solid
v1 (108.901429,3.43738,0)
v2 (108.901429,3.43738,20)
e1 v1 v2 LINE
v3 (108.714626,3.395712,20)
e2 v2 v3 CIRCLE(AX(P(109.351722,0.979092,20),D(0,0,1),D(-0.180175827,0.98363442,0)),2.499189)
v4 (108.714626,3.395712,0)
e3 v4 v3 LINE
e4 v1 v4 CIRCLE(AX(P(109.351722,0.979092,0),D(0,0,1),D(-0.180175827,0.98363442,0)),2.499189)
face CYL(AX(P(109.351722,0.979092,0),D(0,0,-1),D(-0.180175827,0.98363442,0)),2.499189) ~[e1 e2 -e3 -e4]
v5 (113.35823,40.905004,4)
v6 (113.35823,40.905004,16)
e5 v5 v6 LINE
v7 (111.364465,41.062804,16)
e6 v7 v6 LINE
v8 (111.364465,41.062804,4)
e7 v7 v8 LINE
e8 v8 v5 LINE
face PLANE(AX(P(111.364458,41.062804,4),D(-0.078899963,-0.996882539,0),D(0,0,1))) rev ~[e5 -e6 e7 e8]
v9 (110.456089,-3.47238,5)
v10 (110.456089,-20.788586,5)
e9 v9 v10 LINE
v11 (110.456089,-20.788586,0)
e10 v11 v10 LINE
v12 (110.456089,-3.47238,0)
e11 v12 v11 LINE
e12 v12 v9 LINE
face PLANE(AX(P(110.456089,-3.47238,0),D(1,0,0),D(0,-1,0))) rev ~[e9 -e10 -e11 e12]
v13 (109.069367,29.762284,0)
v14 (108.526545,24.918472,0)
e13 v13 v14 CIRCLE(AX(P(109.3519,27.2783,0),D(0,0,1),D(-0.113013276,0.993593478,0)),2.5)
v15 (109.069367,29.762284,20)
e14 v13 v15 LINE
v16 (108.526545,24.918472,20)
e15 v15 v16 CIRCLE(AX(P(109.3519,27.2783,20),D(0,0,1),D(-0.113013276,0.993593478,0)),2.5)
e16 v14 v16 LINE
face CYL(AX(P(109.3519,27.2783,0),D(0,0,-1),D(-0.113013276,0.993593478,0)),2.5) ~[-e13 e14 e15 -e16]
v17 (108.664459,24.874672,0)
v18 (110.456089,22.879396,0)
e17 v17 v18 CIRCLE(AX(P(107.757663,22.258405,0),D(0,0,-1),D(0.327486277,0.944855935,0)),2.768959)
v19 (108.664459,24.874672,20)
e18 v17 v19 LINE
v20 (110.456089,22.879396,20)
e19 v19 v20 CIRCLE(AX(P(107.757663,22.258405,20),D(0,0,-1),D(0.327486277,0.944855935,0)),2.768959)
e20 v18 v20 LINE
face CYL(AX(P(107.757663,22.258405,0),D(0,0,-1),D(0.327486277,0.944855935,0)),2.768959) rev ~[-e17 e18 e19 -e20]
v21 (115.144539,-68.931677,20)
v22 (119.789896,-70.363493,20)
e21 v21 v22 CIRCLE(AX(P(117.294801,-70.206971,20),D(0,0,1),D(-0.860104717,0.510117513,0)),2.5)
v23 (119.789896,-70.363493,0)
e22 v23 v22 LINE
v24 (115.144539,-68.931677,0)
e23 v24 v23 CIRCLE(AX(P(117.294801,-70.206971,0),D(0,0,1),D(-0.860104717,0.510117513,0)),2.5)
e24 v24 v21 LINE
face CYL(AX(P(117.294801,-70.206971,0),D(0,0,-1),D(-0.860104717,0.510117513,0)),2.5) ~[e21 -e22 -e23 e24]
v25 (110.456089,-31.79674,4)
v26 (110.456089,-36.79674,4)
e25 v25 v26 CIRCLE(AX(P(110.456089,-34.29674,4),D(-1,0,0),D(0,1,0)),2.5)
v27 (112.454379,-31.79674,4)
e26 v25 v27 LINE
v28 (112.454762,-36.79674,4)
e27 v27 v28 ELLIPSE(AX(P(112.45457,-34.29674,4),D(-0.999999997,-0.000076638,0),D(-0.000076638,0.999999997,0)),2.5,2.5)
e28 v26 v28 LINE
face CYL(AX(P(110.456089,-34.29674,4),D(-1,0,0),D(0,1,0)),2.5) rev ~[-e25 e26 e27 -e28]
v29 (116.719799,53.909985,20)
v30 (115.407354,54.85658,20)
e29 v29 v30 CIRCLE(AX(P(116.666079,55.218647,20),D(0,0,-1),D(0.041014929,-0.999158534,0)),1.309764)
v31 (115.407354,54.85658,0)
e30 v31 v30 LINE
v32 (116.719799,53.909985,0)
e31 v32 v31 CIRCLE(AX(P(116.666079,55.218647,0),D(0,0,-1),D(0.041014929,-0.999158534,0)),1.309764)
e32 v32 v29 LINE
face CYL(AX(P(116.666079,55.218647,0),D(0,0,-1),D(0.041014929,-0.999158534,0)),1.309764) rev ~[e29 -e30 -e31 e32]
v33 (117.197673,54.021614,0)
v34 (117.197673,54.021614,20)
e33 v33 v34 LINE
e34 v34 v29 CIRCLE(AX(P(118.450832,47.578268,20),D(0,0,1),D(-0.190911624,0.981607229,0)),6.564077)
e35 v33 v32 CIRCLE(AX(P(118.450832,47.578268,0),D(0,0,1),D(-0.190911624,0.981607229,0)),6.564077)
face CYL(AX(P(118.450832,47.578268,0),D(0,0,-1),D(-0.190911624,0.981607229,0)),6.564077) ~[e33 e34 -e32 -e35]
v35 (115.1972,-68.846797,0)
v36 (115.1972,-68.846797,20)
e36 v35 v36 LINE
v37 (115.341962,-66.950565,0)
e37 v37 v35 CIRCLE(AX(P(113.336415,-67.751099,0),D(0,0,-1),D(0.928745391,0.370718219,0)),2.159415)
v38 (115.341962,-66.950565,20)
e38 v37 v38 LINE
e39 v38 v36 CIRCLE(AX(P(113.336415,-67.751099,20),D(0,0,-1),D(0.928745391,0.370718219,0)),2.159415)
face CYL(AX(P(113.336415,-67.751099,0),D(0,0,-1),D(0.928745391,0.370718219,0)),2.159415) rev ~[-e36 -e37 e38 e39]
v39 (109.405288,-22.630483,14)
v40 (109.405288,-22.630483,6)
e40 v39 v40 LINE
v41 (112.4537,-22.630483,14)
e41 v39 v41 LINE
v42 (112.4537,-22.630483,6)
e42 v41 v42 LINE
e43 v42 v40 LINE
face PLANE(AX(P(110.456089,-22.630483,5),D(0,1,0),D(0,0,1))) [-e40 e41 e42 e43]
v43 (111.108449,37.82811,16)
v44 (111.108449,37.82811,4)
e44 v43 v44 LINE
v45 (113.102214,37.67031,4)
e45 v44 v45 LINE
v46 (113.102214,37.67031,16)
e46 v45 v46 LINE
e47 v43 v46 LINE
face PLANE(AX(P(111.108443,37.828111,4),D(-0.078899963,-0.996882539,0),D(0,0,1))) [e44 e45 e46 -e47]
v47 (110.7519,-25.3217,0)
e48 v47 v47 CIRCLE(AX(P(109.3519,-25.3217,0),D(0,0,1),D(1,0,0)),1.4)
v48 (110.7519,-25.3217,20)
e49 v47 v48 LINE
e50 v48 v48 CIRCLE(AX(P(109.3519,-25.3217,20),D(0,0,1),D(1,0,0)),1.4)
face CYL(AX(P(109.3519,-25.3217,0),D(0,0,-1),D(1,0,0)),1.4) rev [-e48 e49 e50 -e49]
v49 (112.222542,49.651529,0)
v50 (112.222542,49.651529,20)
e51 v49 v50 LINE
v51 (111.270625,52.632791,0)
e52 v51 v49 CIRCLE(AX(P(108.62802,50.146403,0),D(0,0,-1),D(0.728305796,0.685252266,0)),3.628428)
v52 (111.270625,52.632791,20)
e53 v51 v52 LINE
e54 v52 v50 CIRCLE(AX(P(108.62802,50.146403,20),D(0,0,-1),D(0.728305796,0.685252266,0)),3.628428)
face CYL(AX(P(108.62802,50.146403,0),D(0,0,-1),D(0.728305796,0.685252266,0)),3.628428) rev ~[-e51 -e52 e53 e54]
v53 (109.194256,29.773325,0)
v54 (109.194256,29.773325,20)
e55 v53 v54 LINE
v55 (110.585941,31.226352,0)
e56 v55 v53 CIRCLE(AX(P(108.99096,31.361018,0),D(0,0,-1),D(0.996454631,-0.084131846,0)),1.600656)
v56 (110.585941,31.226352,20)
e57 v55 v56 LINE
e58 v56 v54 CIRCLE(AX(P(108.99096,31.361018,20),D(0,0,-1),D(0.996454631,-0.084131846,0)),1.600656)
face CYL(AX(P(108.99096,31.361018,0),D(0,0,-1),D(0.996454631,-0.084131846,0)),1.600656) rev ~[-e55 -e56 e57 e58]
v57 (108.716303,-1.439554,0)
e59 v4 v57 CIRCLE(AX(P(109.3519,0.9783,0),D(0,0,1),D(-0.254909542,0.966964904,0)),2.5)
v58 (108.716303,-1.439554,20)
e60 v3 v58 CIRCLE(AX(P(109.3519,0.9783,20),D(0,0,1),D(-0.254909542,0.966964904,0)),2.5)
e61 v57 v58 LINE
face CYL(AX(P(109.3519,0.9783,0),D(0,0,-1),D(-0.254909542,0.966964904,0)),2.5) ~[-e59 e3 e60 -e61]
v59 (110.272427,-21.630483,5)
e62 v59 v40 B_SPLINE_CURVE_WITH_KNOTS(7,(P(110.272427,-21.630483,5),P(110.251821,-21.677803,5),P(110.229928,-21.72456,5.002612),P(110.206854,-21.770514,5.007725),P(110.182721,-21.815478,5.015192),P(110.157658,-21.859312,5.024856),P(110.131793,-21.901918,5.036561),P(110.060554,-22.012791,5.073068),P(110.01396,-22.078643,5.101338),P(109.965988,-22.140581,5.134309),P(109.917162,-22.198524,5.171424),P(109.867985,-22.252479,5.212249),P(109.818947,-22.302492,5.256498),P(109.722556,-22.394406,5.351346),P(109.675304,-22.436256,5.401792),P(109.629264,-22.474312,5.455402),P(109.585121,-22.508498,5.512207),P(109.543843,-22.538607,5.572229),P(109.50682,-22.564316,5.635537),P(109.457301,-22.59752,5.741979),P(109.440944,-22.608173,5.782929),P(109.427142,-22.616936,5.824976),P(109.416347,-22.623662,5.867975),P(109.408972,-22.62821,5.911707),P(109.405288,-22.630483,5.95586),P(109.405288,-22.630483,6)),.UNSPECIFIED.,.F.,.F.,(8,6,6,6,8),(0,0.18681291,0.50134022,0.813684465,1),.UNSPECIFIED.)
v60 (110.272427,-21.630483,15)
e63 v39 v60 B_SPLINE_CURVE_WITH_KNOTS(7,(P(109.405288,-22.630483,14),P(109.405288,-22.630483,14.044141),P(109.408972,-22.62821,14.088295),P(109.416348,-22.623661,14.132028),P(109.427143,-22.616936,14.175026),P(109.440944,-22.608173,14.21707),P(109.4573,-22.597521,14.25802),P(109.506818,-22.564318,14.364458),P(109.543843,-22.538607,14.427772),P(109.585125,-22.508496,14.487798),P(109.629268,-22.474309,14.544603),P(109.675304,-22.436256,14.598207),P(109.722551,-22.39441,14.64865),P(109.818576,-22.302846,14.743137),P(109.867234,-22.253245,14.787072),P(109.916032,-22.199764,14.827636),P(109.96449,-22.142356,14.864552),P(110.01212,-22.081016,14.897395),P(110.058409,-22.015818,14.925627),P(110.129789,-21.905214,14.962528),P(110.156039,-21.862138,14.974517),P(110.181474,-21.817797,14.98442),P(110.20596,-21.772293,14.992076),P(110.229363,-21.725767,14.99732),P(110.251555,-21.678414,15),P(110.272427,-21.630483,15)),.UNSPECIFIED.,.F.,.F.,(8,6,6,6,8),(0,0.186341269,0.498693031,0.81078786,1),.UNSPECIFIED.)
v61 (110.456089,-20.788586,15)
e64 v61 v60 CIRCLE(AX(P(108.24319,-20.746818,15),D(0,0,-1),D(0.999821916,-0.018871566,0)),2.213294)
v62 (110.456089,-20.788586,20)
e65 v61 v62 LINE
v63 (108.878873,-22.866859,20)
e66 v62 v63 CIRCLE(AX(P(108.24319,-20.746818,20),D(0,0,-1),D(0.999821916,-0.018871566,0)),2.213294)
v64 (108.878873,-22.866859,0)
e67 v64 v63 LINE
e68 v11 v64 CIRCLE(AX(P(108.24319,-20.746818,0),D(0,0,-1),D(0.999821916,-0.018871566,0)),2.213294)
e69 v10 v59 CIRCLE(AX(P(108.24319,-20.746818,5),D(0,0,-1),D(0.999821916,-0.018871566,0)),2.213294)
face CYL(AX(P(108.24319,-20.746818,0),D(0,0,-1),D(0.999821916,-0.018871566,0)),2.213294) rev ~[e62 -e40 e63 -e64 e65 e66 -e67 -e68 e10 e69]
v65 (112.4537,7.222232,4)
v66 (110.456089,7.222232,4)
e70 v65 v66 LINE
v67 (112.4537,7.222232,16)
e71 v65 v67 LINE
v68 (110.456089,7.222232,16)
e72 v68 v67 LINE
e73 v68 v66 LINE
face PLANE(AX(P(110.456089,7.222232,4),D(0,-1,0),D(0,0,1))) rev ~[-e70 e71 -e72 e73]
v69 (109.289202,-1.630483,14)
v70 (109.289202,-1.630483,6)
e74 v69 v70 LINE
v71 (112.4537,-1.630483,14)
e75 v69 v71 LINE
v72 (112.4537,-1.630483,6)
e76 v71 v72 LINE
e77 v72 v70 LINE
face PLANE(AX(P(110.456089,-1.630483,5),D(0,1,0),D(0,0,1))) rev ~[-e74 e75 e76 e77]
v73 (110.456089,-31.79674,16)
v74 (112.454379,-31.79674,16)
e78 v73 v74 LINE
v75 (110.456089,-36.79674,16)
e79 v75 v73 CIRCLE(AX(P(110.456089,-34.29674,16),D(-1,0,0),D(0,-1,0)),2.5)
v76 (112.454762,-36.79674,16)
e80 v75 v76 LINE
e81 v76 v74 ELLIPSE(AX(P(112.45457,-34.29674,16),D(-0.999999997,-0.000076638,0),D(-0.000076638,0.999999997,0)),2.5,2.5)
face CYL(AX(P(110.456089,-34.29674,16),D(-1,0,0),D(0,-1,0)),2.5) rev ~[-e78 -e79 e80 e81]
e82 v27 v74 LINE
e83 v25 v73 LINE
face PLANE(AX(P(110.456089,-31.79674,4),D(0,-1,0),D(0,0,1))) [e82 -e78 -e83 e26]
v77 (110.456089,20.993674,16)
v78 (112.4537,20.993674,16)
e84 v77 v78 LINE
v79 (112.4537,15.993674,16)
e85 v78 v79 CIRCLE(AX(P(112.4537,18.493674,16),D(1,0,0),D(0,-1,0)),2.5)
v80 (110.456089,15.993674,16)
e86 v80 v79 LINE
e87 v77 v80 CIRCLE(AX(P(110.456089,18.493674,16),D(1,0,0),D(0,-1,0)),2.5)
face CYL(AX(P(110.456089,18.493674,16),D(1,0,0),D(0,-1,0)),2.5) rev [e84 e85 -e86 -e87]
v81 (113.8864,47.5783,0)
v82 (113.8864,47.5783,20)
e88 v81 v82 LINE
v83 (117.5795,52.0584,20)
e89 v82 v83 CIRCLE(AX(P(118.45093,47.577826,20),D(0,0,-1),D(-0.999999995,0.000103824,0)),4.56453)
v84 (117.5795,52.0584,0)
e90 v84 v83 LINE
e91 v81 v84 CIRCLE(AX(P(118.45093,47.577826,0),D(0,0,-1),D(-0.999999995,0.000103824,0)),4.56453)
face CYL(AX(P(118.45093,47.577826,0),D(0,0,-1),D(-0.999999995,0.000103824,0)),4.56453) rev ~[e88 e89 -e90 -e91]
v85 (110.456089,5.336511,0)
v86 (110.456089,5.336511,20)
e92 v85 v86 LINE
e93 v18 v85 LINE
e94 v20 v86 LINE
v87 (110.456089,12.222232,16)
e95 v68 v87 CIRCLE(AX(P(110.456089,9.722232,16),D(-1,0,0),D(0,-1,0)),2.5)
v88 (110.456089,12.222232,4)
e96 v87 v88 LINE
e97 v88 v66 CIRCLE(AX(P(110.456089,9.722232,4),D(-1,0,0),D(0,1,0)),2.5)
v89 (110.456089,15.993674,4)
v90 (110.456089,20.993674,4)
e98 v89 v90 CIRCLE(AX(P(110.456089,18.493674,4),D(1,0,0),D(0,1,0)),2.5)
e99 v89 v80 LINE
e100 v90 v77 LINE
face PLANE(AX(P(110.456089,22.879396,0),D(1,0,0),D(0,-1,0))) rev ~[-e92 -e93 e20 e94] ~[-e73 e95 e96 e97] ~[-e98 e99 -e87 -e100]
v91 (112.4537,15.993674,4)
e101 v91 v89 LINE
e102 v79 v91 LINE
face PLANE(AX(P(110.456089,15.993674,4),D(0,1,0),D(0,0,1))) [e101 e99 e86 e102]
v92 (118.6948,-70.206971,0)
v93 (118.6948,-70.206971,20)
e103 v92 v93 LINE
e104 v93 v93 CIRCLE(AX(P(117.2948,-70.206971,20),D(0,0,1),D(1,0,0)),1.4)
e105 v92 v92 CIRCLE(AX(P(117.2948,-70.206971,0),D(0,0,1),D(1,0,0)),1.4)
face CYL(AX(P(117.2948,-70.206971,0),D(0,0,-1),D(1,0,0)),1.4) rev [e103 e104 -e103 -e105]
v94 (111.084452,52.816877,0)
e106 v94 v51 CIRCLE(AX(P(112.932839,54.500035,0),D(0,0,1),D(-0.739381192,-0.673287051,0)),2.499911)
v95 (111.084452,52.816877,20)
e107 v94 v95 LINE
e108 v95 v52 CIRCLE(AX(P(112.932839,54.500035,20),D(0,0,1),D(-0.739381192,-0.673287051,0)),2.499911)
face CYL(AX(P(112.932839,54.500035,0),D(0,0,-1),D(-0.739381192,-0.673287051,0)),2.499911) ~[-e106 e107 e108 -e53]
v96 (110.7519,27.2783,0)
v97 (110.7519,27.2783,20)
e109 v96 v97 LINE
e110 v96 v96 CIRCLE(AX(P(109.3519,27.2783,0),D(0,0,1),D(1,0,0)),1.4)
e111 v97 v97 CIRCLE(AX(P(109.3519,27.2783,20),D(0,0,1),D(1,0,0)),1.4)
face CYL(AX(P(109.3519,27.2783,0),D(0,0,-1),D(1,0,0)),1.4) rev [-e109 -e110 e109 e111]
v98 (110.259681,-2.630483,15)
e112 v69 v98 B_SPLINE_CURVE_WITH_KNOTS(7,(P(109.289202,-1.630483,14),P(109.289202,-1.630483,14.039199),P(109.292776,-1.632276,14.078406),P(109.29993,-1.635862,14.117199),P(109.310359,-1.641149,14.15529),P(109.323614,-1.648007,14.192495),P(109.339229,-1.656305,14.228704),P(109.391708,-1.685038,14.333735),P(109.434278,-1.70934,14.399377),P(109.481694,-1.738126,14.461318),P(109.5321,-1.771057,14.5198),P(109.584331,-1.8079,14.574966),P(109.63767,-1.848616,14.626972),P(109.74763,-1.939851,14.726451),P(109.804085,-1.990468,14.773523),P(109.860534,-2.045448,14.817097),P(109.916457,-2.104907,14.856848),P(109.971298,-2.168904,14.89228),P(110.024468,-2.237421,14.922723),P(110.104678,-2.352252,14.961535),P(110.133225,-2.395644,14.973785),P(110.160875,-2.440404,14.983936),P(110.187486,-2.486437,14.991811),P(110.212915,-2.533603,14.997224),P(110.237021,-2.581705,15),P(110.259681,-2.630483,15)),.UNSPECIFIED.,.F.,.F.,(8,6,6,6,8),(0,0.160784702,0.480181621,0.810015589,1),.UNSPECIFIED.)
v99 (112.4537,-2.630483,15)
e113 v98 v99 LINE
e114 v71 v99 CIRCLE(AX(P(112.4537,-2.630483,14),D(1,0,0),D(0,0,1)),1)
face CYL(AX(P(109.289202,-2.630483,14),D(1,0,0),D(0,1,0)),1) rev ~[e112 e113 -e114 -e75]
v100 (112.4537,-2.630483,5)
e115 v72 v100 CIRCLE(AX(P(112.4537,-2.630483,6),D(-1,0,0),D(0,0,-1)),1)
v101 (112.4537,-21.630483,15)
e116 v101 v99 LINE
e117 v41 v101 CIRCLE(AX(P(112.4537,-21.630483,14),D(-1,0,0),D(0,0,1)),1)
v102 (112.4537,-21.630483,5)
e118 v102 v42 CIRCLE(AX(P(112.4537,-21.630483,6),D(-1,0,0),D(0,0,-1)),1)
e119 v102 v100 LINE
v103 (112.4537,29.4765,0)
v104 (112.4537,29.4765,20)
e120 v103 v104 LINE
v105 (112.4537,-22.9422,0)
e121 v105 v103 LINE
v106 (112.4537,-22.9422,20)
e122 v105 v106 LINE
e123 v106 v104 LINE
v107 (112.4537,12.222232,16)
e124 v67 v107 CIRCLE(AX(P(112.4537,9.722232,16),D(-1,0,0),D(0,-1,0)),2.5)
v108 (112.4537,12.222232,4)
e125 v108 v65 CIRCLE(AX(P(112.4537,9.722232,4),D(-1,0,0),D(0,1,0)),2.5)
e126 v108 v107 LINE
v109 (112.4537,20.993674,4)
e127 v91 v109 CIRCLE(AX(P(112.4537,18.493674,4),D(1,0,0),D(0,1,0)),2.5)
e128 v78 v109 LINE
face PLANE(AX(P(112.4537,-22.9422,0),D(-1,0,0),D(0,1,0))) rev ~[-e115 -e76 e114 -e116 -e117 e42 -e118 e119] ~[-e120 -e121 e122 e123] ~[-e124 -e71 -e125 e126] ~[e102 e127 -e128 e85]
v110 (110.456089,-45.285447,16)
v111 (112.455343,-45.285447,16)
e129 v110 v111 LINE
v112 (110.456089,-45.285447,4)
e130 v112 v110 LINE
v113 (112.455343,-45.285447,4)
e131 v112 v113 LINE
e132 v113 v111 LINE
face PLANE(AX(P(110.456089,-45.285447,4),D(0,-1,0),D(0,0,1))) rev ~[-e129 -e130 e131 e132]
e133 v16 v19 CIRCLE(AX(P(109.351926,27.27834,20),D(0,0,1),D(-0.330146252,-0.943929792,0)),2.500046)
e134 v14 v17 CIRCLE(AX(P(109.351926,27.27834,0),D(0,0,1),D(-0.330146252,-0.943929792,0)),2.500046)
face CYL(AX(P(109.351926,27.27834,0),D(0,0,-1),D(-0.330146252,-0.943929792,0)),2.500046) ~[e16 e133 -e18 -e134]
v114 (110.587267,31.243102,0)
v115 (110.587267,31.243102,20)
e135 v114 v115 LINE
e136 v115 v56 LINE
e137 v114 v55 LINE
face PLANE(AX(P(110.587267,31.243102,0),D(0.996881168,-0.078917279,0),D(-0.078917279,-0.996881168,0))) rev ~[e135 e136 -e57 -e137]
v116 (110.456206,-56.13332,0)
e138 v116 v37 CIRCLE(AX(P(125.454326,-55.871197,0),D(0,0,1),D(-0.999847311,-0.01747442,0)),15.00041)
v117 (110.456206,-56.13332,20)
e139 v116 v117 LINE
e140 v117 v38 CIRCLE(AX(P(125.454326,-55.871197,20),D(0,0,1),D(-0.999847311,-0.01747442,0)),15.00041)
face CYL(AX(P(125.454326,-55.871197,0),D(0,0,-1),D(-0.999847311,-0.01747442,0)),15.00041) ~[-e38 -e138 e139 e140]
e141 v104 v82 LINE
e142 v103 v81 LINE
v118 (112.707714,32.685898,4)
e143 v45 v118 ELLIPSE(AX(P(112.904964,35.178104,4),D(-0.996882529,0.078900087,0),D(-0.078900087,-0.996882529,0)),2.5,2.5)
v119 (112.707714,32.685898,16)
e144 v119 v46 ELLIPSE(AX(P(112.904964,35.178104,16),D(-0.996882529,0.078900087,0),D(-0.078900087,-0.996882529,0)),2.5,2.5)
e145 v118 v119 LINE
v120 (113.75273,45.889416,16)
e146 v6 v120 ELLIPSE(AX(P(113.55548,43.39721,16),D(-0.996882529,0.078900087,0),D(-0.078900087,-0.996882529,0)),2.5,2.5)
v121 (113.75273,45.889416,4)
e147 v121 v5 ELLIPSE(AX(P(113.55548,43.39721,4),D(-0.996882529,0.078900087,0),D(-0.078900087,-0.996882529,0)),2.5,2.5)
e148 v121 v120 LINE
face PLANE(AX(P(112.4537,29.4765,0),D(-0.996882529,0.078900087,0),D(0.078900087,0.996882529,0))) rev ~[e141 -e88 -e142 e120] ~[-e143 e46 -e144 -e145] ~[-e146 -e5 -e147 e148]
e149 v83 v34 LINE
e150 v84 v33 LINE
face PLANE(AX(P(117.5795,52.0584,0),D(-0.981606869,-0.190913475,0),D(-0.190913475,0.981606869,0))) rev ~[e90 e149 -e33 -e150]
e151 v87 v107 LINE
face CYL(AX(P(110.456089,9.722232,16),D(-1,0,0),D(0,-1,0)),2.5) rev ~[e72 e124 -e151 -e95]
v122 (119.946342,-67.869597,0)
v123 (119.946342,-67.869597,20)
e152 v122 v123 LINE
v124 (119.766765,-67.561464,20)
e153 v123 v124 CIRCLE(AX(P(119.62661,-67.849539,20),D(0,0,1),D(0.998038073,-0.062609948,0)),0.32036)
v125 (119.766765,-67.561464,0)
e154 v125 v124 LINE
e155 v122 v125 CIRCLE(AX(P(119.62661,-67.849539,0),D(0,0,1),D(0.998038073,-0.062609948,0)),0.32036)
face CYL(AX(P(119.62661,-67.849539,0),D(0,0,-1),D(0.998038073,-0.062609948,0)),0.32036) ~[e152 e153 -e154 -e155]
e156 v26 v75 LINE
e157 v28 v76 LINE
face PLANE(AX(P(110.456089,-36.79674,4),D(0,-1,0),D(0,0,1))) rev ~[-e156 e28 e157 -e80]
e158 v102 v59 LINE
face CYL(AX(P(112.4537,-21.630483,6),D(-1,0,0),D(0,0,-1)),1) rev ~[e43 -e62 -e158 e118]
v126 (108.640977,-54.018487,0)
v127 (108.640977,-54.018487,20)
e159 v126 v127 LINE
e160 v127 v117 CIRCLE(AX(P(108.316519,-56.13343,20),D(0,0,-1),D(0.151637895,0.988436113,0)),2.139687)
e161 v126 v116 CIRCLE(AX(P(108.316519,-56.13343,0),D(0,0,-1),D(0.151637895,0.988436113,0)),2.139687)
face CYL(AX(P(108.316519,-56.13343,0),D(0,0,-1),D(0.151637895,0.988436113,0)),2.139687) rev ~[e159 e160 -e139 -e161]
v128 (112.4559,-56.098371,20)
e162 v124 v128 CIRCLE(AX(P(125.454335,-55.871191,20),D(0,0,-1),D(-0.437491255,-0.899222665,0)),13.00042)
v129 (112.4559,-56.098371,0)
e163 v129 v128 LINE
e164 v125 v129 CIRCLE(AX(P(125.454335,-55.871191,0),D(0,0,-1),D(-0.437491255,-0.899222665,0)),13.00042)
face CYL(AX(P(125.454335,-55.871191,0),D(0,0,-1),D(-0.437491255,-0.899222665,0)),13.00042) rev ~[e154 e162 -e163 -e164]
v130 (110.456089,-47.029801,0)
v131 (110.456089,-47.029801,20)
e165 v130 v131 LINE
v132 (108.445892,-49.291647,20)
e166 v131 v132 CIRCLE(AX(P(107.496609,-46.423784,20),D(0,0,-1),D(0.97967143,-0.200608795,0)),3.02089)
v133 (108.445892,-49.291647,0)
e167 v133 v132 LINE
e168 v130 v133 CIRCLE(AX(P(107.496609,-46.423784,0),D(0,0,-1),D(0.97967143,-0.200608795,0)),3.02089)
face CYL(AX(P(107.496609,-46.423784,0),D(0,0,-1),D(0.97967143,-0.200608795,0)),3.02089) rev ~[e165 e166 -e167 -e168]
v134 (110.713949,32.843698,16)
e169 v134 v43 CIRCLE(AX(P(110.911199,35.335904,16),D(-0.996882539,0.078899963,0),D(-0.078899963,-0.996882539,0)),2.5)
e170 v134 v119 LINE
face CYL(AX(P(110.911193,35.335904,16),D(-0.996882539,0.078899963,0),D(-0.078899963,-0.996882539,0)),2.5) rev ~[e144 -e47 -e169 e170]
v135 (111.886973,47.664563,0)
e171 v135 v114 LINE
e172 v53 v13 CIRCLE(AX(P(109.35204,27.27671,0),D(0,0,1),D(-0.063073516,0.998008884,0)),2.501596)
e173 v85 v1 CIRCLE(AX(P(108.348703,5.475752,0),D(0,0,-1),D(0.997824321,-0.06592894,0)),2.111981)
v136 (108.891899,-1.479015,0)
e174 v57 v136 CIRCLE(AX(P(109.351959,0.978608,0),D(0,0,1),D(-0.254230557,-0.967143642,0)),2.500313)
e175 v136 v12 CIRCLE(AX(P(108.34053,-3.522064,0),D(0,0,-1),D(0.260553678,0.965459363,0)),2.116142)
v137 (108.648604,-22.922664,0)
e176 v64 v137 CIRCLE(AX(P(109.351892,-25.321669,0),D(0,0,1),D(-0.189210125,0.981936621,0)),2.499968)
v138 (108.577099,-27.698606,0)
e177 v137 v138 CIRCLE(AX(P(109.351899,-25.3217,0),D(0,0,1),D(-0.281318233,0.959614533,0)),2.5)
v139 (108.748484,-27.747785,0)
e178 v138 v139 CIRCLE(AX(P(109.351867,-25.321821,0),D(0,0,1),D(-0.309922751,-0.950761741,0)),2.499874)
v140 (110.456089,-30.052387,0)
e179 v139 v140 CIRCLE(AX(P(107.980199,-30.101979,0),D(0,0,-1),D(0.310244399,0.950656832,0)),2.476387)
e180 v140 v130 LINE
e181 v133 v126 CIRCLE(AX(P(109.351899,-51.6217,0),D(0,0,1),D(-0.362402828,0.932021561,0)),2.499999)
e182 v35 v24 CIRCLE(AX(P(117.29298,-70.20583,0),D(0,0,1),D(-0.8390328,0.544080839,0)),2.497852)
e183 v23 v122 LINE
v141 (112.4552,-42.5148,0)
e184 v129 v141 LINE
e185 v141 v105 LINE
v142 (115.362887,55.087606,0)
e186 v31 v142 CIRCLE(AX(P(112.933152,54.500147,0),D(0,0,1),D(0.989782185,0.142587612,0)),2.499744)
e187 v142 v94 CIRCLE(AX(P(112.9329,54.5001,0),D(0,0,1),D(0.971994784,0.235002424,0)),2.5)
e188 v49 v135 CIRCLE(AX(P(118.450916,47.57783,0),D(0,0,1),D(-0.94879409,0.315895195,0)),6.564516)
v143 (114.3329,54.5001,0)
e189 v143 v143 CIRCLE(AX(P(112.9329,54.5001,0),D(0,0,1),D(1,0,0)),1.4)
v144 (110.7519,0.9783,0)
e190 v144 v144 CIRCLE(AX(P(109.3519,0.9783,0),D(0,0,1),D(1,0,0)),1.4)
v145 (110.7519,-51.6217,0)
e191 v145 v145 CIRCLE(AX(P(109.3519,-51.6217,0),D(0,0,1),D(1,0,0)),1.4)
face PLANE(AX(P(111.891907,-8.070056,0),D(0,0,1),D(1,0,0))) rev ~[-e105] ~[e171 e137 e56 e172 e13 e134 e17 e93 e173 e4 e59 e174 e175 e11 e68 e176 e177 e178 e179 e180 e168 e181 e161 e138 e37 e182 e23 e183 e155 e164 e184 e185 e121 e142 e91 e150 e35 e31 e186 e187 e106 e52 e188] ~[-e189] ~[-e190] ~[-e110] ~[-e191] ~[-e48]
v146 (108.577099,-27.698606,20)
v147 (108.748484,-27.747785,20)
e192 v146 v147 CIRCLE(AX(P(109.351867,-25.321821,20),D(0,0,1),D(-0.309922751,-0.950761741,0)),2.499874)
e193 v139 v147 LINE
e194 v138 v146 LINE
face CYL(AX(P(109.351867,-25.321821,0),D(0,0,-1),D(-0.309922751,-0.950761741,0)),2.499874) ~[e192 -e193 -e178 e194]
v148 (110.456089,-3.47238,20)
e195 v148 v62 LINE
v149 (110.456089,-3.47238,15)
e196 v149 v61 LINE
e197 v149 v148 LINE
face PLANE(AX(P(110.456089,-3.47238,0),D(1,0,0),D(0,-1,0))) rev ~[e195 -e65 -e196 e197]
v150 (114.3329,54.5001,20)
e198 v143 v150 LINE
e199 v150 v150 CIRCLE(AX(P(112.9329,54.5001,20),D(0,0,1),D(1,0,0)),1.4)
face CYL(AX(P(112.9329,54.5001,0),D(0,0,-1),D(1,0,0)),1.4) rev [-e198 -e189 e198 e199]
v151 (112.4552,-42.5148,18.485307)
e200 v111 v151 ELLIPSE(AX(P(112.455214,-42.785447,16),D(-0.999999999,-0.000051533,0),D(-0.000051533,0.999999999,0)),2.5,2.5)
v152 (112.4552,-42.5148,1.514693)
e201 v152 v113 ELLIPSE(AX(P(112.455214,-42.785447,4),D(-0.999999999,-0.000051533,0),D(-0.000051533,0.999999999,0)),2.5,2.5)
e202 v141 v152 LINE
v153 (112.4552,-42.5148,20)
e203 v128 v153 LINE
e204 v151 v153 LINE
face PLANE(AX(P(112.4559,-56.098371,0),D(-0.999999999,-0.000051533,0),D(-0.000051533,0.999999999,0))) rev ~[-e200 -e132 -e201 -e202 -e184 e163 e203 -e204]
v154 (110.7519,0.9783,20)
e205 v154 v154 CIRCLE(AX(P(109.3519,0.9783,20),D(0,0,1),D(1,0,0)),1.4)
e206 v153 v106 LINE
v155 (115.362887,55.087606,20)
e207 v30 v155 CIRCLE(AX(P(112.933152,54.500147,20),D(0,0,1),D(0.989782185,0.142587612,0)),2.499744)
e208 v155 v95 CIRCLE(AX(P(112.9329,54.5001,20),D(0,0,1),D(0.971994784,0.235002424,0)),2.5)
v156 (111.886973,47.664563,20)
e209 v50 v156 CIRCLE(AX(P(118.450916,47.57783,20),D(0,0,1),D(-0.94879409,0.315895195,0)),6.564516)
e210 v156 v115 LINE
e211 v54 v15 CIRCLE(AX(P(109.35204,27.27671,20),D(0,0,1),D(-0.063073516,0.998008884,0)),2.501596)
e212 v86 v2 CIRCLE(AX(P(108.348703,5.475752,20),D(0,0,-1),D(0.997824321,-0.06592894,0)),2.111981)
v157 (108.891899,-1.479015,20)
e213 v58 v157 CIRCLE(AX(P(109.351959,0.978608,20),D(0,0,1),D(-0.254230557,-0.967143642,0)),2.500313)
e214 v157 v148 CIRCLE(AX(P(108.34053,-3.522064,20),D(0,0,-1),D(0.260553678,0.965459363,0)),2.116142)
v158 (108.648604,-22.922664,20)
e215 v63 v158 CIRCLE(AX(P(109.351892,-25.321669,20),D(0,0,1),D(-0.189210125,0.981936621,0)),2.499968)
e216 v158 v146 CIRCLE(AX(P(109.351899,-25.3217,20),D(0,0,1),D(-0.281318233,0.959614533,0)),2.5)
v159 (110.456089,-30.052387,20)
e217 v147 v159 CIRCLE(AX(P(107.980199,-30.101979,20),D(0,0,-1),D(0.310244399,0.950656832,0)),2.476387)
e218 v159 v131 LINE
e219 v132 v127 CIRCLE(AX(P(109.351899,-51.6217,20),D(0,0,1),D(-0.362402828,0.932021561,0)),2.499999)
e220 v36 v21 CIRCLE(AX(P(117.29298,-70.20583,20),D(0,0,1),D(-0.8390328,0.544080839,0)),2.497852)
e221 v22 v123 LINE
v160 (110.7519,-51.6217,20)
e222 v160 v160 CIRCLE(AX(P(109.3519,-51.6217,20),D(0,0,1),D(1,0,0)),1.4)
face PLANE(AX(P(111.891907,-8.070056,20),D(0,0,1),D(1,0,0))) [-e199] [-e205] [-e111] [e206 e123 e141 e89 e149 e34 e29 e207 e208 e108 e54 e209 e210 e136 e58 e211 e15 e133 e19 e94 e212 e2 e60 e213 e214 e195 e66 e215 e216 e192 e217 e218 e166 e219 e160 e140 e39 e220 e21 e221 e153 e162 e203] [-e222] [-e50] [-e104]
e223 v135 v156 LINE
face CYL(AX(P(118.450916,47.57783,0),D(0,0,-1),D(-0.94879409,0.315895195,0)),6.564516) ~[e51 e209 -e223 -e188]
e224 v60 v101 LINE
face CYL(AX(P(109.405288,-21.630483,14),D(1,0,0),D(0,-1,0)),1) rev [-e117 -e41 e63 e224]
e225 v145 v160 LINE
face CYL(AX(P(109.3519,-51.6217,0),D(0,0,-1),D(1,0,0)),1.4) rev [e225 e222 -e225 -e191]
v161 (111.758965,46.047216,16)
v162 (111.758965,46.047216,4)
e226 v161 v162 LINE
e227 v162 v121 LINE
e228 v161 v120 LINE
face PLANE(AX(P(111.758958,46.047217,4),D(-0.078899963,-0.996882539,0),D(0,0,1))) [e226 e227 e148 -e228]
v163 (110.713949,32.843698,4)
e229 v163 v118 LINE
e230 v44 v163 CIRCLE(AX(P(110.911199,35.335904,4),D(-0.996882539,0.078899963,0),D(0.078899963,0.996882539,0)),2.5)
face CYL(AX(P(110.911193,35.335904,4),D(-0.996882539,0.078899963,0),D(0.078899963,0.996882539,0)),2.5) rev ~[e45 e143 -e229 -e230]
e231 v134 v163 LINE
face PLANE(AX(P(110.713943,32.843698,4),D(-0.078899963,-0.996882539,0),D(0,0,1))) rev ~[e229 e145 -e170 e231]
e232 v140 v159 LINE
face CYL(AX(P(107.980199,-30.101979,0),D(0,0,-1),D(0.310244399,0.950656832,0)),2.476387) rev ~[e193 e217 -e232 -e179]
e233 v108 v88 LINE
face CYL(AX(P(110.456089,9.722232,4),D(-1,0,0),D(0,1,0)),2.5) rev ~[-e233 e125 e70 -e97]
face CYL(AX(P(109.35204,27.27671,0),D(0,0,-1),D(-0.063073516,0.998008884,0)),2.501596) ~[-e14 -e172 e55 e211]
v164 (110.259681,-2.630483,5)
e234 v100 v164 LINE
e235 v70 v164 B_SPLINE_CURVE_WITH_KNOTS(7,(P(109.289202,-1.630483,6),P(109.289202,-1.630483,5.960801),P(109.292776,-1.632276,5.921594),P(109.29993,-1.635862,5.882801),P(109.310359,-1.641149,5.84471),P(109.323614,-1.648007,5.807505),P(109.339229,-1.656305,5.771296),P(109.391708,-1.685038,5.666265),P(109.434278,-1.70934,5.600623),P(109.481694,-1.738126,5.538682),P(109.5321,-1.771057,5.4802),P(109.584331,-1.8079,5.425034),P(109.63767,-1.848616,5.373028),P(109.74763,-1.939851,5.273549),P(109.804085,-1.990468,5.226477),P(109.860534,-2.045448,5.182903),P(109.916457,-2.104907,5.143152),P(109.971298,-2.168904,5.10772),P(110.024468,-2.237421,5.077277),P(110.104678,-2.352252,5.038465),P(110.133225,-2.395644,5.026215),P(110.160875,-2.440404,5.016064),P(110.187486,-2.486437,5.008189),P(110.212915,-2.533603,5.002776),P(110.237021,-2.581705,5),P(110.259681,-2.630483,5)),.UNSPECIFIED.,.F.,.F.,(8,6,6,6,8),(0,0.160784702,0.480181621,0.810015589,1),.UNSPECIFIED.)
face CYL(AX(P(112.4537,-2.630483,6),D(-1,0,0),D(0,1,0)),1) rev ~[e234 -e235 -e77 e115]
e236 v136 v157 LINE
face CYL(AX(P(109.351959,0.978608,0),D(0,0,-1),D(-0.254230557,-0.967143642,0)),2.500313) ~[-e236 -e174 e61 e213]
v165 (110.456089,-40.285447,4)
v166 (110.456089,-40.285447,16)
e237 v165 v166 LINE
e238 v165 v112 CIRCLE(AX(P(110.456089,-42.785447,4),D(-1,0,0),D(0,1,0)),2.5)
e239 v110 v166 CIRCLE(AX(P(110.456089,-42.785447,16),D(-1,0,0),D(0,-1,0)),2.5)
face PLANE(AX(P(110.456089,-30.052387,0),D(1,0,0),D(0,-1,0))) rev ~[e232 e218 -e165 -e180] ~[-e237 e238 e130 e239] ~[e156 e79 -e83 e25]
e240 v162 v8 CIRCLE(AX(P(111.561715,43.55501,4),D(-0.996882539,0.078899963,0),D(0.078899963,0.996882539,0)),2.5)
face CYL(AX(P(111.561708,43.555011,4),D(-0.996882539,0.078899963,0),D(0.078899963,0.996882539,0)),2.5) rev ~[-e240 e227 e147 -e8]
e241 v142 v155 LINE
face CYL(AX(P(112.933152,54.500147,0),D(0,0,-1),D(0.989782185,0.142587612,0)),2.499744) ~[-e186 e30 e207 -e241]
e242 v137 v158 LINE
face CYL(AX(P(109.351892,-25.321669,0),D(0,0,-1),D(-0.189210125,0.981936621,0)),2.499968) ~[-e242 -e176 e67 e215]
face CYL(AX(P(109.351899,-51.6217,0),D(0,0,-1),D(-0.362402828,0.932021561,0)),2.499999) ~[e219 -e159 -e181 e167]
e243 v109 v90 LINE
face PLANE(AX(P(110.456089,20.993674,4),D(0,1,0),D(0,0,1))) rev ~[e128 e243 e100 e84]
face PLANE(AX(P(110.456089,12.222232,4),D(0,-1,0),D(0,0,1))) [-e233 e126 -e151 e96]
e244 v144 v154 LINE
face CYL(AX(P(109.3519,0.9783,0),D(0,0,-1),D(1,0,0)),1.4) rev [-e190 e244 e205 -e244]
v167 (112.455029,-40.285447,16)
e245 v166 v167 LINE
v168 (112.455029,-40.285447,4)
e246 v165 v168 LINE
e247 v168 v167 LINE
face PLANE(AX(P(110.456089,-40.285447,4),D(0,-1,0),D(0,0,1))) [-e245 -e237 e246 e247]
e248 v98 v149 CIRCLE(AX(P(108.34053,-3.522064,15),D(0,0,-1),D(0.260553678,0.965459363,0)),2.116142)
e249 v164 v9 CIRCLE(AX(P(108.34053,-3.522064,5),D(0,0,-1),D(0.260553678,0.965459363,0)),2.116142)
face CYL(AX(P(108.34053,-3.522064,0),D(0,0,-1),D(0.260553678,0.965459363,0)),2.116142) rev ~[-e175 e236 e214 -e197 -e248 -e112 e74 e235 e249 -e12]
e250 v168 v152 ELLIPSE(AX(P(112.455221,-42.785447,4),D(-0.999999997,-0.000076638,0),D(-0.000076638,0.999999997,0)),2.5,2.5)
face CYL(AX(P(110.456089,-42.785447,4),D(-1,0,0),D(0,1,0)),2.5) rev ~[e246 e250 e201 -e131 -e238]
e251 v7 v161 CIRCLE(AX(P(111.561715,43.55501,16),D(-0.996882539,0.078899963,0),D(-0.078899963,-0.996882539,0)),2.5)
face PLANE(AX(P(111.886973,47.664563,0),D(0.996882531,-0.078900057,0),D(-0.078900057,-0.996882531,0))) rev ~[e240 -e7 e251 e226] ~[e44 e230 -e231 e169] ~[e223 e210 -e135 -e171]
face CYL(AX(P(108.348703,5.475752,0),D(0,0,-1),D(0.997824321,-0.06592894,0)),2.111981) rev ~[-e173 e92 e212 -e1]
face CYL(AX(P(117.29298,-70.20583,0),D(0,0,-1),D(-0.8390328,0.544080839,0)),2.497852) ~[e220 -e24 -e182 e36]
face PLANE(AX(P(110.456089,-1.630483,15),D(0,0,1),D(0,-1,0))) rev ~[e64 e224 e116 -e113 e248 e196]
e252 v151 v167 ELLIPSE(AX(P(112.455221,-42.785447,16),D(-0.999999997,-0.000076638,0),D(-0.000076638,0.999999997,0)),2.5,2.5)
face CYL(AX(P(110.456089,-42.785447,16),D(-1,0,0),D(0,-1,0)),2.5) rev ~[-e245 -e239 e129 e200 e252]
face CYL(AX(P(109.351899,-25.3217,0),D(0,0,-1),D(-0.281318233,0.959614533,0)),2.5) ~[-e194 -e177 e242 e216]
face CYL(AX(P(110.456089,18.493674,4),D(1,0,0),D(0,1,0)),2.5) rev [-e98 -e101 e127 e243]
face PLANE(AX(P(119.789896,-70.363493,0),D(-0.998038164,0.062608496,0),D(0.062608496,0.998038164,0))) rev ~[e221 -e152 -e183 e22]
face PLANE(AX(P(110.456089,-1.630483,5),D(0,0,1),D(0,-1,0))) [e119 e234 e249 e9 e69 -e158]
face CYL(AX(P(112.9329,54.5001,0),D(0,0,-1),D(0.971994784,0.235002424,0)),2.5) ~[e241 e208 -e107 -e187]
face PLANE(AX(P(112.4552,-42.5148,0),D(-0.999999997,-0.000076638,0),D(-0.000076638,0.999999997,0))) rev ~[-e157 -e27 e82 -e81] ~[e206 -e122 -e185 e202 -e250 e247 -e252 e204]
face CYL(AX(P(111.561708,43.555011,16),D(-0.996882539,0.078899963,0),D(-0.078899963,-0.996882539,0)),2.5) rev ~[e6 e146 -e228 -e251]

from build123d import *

# Parameters (mm, degrees)
F0_R     = 1.4
F1_DEPTH = 20
F2_W     = 21
F2_H     = 10
F2_W_2   = 5
F2_H_2   = 12
F3_DEPTH = 12.5
F4_R     = 1
F5_W     = 5
F5_H     = 12
F6_DEPTH = 25
F7_W     = 5
F7_H     = 12
F8_DEPTH = 25


with BuildPart() as f1:
    # F0 (on Top) → F1 (new body)
    with BuildSketch(Plane.XY):
        with BuildLine():
            ThreePointArc((119.766765, -67.561464), (114.49339, -62.8618), (112.4559, -56.098371))
            Line((112.4559, -56.098371), (112.4552, -42.5148))
            Line((112.4552, -42.5148), (112.4537, -22.9422))
            Line((112.4537, -22.9422), (112.4537, 29.4765))
            Line((112.4537, 29.4765), (113.8864, 47.5783))
            ThreePointArc((113.8864, 47.5783), (114.928823, 50.48122), (117.5795, 52.0584))
            Line((117.5795, 52.0584), (117.197673, 54.021614))
            ThreePointArc((117.197673, 54.021614), (116.964011, 53.943219), (116.719799, 53.909985))
            ThreePointArc((116.719799, 53.909985), (115.899907, 54.156356), (115.407354, 54.85658))
            ThreePointArc((115.407354, 54.85658), (115.379923, 54.971093), (115.362887, 55.087606))
            ThreePointArc((115.362887, 55.087606), (111.760893, 56.708357), (111.084452, 52.816877))
            ThreePointArc((111.084452, 52.816877), (111.1792, 52.726514), (111.270625, 52.632791))
            ThreePointArc((111.270625, 52.632791), (112.084524, 51.250064), (112.222542, 49.651529))
            ThreePointArc((112.222542, 49.651529), (111.978061, 48.670999), (111.886973, 47.664563))
            Line((111.886973, 47.664563), (110.587267, 31.243102))
            Line((110.587267, 31.243102), (110.585941, 31.226352))
            ThreePointArc((110.585941, 31.226352), (110.146932, 30.253847), (109.194256, 29.773325))
            ThreePointArc((109.194256, 29.773325), (109.13192, 29.766581), (109.069367, 29.762284))
            ThreePointArc((109.069367, 29.762284), (106.867452, 27.55672), (108.526545, 24.918472))
            ThreePointArc((108.526545, 24.918472), (108.595788, 24.897473), (108.664459, 24.874672))
            ThreePointArc((108.664459, 24.874672), (109.817927, 24.10839), (110.456089, 22.879396))
            Line((110.456089, 22.879396), (110.456089, 5.614989))
            ThreePointArc((110.456089, 5.614989), (110.460684, 5.47575), (110.456089, 5.336511))
            ThreePointArc((110.456089, 5.336511), (109.982938, 4.13794), (108.901429, 3.43738))
            ThreePointArc((108.901429, 3.43738), (108.8085, 3.414429), (108.714626, 3.395712))
            ThreePointArc((108.714626, 3.395712), (106.8519, 0.977433), (108.716303, -1.439554))
            ThreePointArc((108.716303, -1.439554), (108.804521, -1.457417), (108.891899, -1.479015))
            ThreePointArc((108.891899, -1.479015), (110.005313, -2.215712), (110.456089, -3.47238))
            ThreePointArc((110.456089, -3.47238), (110.456672, -3.522062), (110.456089, -3.571745))
            Line((110.456089, -3.571745), (110.456089, -20.788586))
            ThreePointArc((110.456089, -20.788586), (110.006258, -22.084823), (108.878873, -22.866859))
            ThreePointArc((108.878873, -22.866859), (108.764486, -22.897845), (108.648604, -22.922664))
            ThreePointArc((108.648604, -22.922664), (106.85218, -25.284275), (108.577099, -27.698606))
            ThreePointArc((108.577099, -27.698606), (108.663234, -27.721653), (108.748484, -27.747785))
            ThreePointArc((108.748484, -27.747785), (109.969914, -28.627691), (110.456089, -30.052387))
            ThreePointArc((110.456089, -30.052387), (110.456585, -30.101978), (110.456089, -30.151568))
            Line((110.456089, -30.151568), (110.456089, -47.029801))
            ThreePointArc((110.456089, -47.029801), (109.754616, -48.430568), (108.445892, -49.291647))
            ThreePointArc((108.445892, -49.291647), (106.854026, -51.724792), (108.640977, -54.018487))
            ThreePointArc((108.640977, -54.018487), (109.940136, -54.739828), (110.456206, -56.13332))
            ThreePointArc((110.456206, -56.13332), (111.783653, -62.045742), (115.341962, -66.950565))
            ThreePointArc((115.341962, -66.950565), (115.489565, -67.915475), (115.1972, -68.846797))
            ThreePointArc((115.1972, -68.846797), (115.17136, -68.889542), (115.144539, -68.931677))
            ThreePointArc((115.144539, -68.931677), (116.558423, -72.59606), (119.789896, -70.363493))
            Line((119.789896, -70.363493), (119.946342, -67.869597))
            ThreePointArc((119.946342, -67.869597), (119.903396, -67.688231), (119.766765, -67.561464))
        make_face()
        with Locations((109.3519, -51.6217)):
            Circle(F0_R, mode=Mode.SUBTRACT)
        with Locations((109.3519, -25.3217)):
            Circle(F0_R, mode=Mode.SUBTRACT)
        with Locations((117.2948, -70.206971)):
            Circle(F0_R, mode=Mode.SUBTRACT)
        with Locations((109.3519, 0.9783)):
            Circle(F0_R, mode=Mode.SUBTRACT)
        with Locations((109.3519, 27.2783)):
            Circle(F0_R, mode=Mode.SUBTRACT)
        with Locations((112.9329, 54.5001)):
            Circle(F0_R, mode=Mode.SUBTRACT)
        with BuildLine():
            ThreePointArc((115.1972, -68.846797), (115.170445, -68.888974), (115.144539, -68.931677))
            ThreePointArc((115.144539, -68.931677), (115.17136, -68.889542), (115.1972, -68.846797))
        make_face()
        with BuildLine():
            ThreePointArc((116.719799, 53.909985), (116.964011, 53.943219), (117.197673, 54.021614))
            ThreePointArc((117.197673, 54.021614), (116.957693, 53.970267), (116.719799, 53.909985))
        make_face()
        with BuildLine():
            ThreePointArc((115.362887, 55.087606), (115.379923, 54.971093), (115.407354, 54.85658))
            ThreePointArc((115.407354, 54.85658), (115.38784, 54.972616), (115.362887, 55.087606))
        make_face()
        with BuildLine():
            ThreePointArc((111.270625, 52.632791), (111.1792, 52.726514), (111.084452, 52.816877))
            ThreePointArc((111.084452, 52.816877), (111.175127, 52.722395), (111.270625, 52.632791))
        make_face()
        with BuildLine():
            Line((110.456089, -30.052387), (110.456089, -30.151568))
            ThreePointArc((110.456089, -30.151568), (110.456585, -30.101978), (110.456089, -30.052387))
        make_face()
        with BuildLine():
            ThreePointArc((108.577099, -27.698606), (108.662353, -27.724724), (108.748484, -27.747785))
            ThreePointArc((108.748484, -27.747785), (108.663234, -27.721653), (108.577099, -27.698606))
        make_face()
        with BuildLine():
            ThreePointArc((108.878873, -22.866859), (108.763077, -22.892032), (108.648604, -22.922664))
            ThreePointArc((108.648604, -22.922664), (108.764486, -22.897845), (108.878873, -22.866859))
        make_face()
        with BuildLine():
            ThreePointArc((109.069367, 29.762284), (109.13192, 29.766581), (109.194256, 29.773325))
            ThreePointArc((109.194256, 29.773325), (109.131742, 29.768587), (109.069367, 29.762284))
        make_face()
        with BuildLine():
            Line((110.456089, -3.47238), (110.456089, -3.571745))
            ThreePointArc((110.456089, -3.571745), (110.456672, -3.522062), (110.456089, -3.47238))
        make_face()
        with BuildLine():
            ThreePointArc((108.664459, 24.874672), (108.595788, 24.897473), (108.526545, 24.918472))
            ThreePointArc((108.526545, 24.918472), (108.595185, 24.895574), (108.664459, 24.874672))
        make_face()
        with BuildLine():
            ThreePointArc((108.716303, -1.439554), (108.803746, -1.460865), (108.891899, -1.479015))
            ThreePointArc((108.891899, -1.479015), (108.804521, -1.457417), (108.716303, -1.439554))
        make_face()
        with BuildLine():
            ThreePointArc((110.456089, 5.336511), (110.460684, 5.47575), (110.456089, 5.614989))
            Line((110.456089, 5.614989), (110.456089, 5.336511))
        make_face()
        with BuildLine():
            ThreePointArc((108.901429, 3.43738), (108.807629, 3.418335), (108.714626, 3.395712))
            ThreePointArc((108.714626, 3.395712), (108.8085, 3.414429), (108.901429, 3.43738))
        make_face()
    extrude(amount=F1_DEPTH)

    # F2 (on face) → F3 (cut, symmetric)
    with BuildSketch(Plane(origin=(110.456089, 0, 0), x_dir=(0, -1, 0), z_dir=(-1, 0, 0))):
        with Locations((12.130483, 10)):
            Rectangle(F2_W, F2_H)
        with Locations((-18.493674, 10)):
            Rectangle(F2_W_2, F2_H_2)
        with BuildLine():
            Line((-20.993674, 16), (-15.993674, 16))
            ThreePointArc((-15.993674, 16), (-18.493674, 18.5), (-20.993674, 16))
        make_face()
        with BuildLine():
            ThreePointArc((-20.993674, 4), (-18.493674, 1.5), (-15.993674, 4))
            Line((-15.993674, 4), (-20.993674, 4))
        make_face()
        with Locations((-9.722232, 10)):
            Rectangle(F2_W_2, F2_H_2)
        with BuildLine():
            ThreePointArc((-7.222232, 16), (-9.722232, 18.5), (-12.222232, 16))
            Line((-12.222232, 16), (-7.222232, 16))
        make_face()
        with BuildLine():
            Line((-7.222232, 4), (-12.222232, 4))
            ThreePointArc((-12.222232, 4), (-9.722232, 1.5), (-7.222232, 4))
        make_face()
    extrude(amount=F3_DEPTH, both=True, mode=Mode.SUBTRACT)

    # F4
    f4_edges = [f1.edges().sort_by_distance(p)[0] for p in [
        (110.929494, -22.630483, 5),
        (110.871451, -1.630483, 5),
        (110.871451, -1.630483, 15),
        (110.929494, -22.630483, 15),
    ]]
    fillet(f4_edges, radius=F4_R)

    # F5 (on face) → F6 (cut)
    with BuildSketch(Plane(origin=(107.441437, -8.503649, 0), x_dir=(-0.0789, -0.996883, 0), z_dir=(-0.996883, 0.0789, 0))):
        with Locations((-52.221458, 10)):
            Rectangle(F5_W, F5_H)
        with BuildLine():
            Line((-54.721458, 16), (-49.721458, 16))
            ThreePointArc((-49.721458, 16), (-52.221458, 18.5), (-54.721458, 16))
        make_face()
        with BuildLine():
            ThreePointArc((-54.721458, 4), (-52.221458, 1.5), (-49.721458, 4))
            Line((-49.721458, 4), (-54.721458, 4))
        make_face()
        with BuildLine():
            ThreePointArc((-41.476649, 16), (-43.976649, 18.5), (-46.476649, 16))
            Line((-46.476649, 16), (-41.476649, 16))
        make_face()
        with Locations((-43.976649, 10)):
            Rectangle(F5_W, F5_H)
        with BuildLine():
            Line((-41.476649, 4), (-46.476649, 4))
            ThreePointArc((-46.476649, 4), (-43.976649, 1.5), (-41.476649, 4))
        make_face()
    extrude(amount=-F6_DEPTH, mode=Mode.SUBTRACT)

    # F7 (on face) → F8 (cut)
    with BuildSketch(Plane(origin=(110.456089, 0, 0), x_dir=(0, -1, 0), z_dir=(-1, 0, 0))):
        with Locations((34.29674, 10)):
            Rectangle(F7_W, F7_H)
        with BuildLine():
            Line((31.79674, 16), (36.79674, 16))
            ThreePointArc((36.79674, 16), (34.29674, 18.5), (31.79674, 16))
        make_face()
        with BuildLine():
            ThreePointArc((31.79674, 4), (34.29674, 1.5), (36.79674, 4))
            Line((36.79674, 4), (31.79674, 4))
        make_face()
        with BuildLine():
            ThreePointArc((45.285447, 16), (42.785447, 18.5), (40.285447, 16))
            Line((40.285447, 16), (45.285447, 16))
        make_face()
        with Locations((42.785447, 10)):
            Rectangle(F7_W, F7_H)
        with BuildLine():
            Line((45.285447, 4), (40.285447, 4))
            ThreePointArc((40.285447, 4), (42.785447, 1.5), (45.285447, 4))
        make_face()
    extrude(amount=-F8_DEPTH, mode=Mode.SUBTRACT)


solid = f1.part
